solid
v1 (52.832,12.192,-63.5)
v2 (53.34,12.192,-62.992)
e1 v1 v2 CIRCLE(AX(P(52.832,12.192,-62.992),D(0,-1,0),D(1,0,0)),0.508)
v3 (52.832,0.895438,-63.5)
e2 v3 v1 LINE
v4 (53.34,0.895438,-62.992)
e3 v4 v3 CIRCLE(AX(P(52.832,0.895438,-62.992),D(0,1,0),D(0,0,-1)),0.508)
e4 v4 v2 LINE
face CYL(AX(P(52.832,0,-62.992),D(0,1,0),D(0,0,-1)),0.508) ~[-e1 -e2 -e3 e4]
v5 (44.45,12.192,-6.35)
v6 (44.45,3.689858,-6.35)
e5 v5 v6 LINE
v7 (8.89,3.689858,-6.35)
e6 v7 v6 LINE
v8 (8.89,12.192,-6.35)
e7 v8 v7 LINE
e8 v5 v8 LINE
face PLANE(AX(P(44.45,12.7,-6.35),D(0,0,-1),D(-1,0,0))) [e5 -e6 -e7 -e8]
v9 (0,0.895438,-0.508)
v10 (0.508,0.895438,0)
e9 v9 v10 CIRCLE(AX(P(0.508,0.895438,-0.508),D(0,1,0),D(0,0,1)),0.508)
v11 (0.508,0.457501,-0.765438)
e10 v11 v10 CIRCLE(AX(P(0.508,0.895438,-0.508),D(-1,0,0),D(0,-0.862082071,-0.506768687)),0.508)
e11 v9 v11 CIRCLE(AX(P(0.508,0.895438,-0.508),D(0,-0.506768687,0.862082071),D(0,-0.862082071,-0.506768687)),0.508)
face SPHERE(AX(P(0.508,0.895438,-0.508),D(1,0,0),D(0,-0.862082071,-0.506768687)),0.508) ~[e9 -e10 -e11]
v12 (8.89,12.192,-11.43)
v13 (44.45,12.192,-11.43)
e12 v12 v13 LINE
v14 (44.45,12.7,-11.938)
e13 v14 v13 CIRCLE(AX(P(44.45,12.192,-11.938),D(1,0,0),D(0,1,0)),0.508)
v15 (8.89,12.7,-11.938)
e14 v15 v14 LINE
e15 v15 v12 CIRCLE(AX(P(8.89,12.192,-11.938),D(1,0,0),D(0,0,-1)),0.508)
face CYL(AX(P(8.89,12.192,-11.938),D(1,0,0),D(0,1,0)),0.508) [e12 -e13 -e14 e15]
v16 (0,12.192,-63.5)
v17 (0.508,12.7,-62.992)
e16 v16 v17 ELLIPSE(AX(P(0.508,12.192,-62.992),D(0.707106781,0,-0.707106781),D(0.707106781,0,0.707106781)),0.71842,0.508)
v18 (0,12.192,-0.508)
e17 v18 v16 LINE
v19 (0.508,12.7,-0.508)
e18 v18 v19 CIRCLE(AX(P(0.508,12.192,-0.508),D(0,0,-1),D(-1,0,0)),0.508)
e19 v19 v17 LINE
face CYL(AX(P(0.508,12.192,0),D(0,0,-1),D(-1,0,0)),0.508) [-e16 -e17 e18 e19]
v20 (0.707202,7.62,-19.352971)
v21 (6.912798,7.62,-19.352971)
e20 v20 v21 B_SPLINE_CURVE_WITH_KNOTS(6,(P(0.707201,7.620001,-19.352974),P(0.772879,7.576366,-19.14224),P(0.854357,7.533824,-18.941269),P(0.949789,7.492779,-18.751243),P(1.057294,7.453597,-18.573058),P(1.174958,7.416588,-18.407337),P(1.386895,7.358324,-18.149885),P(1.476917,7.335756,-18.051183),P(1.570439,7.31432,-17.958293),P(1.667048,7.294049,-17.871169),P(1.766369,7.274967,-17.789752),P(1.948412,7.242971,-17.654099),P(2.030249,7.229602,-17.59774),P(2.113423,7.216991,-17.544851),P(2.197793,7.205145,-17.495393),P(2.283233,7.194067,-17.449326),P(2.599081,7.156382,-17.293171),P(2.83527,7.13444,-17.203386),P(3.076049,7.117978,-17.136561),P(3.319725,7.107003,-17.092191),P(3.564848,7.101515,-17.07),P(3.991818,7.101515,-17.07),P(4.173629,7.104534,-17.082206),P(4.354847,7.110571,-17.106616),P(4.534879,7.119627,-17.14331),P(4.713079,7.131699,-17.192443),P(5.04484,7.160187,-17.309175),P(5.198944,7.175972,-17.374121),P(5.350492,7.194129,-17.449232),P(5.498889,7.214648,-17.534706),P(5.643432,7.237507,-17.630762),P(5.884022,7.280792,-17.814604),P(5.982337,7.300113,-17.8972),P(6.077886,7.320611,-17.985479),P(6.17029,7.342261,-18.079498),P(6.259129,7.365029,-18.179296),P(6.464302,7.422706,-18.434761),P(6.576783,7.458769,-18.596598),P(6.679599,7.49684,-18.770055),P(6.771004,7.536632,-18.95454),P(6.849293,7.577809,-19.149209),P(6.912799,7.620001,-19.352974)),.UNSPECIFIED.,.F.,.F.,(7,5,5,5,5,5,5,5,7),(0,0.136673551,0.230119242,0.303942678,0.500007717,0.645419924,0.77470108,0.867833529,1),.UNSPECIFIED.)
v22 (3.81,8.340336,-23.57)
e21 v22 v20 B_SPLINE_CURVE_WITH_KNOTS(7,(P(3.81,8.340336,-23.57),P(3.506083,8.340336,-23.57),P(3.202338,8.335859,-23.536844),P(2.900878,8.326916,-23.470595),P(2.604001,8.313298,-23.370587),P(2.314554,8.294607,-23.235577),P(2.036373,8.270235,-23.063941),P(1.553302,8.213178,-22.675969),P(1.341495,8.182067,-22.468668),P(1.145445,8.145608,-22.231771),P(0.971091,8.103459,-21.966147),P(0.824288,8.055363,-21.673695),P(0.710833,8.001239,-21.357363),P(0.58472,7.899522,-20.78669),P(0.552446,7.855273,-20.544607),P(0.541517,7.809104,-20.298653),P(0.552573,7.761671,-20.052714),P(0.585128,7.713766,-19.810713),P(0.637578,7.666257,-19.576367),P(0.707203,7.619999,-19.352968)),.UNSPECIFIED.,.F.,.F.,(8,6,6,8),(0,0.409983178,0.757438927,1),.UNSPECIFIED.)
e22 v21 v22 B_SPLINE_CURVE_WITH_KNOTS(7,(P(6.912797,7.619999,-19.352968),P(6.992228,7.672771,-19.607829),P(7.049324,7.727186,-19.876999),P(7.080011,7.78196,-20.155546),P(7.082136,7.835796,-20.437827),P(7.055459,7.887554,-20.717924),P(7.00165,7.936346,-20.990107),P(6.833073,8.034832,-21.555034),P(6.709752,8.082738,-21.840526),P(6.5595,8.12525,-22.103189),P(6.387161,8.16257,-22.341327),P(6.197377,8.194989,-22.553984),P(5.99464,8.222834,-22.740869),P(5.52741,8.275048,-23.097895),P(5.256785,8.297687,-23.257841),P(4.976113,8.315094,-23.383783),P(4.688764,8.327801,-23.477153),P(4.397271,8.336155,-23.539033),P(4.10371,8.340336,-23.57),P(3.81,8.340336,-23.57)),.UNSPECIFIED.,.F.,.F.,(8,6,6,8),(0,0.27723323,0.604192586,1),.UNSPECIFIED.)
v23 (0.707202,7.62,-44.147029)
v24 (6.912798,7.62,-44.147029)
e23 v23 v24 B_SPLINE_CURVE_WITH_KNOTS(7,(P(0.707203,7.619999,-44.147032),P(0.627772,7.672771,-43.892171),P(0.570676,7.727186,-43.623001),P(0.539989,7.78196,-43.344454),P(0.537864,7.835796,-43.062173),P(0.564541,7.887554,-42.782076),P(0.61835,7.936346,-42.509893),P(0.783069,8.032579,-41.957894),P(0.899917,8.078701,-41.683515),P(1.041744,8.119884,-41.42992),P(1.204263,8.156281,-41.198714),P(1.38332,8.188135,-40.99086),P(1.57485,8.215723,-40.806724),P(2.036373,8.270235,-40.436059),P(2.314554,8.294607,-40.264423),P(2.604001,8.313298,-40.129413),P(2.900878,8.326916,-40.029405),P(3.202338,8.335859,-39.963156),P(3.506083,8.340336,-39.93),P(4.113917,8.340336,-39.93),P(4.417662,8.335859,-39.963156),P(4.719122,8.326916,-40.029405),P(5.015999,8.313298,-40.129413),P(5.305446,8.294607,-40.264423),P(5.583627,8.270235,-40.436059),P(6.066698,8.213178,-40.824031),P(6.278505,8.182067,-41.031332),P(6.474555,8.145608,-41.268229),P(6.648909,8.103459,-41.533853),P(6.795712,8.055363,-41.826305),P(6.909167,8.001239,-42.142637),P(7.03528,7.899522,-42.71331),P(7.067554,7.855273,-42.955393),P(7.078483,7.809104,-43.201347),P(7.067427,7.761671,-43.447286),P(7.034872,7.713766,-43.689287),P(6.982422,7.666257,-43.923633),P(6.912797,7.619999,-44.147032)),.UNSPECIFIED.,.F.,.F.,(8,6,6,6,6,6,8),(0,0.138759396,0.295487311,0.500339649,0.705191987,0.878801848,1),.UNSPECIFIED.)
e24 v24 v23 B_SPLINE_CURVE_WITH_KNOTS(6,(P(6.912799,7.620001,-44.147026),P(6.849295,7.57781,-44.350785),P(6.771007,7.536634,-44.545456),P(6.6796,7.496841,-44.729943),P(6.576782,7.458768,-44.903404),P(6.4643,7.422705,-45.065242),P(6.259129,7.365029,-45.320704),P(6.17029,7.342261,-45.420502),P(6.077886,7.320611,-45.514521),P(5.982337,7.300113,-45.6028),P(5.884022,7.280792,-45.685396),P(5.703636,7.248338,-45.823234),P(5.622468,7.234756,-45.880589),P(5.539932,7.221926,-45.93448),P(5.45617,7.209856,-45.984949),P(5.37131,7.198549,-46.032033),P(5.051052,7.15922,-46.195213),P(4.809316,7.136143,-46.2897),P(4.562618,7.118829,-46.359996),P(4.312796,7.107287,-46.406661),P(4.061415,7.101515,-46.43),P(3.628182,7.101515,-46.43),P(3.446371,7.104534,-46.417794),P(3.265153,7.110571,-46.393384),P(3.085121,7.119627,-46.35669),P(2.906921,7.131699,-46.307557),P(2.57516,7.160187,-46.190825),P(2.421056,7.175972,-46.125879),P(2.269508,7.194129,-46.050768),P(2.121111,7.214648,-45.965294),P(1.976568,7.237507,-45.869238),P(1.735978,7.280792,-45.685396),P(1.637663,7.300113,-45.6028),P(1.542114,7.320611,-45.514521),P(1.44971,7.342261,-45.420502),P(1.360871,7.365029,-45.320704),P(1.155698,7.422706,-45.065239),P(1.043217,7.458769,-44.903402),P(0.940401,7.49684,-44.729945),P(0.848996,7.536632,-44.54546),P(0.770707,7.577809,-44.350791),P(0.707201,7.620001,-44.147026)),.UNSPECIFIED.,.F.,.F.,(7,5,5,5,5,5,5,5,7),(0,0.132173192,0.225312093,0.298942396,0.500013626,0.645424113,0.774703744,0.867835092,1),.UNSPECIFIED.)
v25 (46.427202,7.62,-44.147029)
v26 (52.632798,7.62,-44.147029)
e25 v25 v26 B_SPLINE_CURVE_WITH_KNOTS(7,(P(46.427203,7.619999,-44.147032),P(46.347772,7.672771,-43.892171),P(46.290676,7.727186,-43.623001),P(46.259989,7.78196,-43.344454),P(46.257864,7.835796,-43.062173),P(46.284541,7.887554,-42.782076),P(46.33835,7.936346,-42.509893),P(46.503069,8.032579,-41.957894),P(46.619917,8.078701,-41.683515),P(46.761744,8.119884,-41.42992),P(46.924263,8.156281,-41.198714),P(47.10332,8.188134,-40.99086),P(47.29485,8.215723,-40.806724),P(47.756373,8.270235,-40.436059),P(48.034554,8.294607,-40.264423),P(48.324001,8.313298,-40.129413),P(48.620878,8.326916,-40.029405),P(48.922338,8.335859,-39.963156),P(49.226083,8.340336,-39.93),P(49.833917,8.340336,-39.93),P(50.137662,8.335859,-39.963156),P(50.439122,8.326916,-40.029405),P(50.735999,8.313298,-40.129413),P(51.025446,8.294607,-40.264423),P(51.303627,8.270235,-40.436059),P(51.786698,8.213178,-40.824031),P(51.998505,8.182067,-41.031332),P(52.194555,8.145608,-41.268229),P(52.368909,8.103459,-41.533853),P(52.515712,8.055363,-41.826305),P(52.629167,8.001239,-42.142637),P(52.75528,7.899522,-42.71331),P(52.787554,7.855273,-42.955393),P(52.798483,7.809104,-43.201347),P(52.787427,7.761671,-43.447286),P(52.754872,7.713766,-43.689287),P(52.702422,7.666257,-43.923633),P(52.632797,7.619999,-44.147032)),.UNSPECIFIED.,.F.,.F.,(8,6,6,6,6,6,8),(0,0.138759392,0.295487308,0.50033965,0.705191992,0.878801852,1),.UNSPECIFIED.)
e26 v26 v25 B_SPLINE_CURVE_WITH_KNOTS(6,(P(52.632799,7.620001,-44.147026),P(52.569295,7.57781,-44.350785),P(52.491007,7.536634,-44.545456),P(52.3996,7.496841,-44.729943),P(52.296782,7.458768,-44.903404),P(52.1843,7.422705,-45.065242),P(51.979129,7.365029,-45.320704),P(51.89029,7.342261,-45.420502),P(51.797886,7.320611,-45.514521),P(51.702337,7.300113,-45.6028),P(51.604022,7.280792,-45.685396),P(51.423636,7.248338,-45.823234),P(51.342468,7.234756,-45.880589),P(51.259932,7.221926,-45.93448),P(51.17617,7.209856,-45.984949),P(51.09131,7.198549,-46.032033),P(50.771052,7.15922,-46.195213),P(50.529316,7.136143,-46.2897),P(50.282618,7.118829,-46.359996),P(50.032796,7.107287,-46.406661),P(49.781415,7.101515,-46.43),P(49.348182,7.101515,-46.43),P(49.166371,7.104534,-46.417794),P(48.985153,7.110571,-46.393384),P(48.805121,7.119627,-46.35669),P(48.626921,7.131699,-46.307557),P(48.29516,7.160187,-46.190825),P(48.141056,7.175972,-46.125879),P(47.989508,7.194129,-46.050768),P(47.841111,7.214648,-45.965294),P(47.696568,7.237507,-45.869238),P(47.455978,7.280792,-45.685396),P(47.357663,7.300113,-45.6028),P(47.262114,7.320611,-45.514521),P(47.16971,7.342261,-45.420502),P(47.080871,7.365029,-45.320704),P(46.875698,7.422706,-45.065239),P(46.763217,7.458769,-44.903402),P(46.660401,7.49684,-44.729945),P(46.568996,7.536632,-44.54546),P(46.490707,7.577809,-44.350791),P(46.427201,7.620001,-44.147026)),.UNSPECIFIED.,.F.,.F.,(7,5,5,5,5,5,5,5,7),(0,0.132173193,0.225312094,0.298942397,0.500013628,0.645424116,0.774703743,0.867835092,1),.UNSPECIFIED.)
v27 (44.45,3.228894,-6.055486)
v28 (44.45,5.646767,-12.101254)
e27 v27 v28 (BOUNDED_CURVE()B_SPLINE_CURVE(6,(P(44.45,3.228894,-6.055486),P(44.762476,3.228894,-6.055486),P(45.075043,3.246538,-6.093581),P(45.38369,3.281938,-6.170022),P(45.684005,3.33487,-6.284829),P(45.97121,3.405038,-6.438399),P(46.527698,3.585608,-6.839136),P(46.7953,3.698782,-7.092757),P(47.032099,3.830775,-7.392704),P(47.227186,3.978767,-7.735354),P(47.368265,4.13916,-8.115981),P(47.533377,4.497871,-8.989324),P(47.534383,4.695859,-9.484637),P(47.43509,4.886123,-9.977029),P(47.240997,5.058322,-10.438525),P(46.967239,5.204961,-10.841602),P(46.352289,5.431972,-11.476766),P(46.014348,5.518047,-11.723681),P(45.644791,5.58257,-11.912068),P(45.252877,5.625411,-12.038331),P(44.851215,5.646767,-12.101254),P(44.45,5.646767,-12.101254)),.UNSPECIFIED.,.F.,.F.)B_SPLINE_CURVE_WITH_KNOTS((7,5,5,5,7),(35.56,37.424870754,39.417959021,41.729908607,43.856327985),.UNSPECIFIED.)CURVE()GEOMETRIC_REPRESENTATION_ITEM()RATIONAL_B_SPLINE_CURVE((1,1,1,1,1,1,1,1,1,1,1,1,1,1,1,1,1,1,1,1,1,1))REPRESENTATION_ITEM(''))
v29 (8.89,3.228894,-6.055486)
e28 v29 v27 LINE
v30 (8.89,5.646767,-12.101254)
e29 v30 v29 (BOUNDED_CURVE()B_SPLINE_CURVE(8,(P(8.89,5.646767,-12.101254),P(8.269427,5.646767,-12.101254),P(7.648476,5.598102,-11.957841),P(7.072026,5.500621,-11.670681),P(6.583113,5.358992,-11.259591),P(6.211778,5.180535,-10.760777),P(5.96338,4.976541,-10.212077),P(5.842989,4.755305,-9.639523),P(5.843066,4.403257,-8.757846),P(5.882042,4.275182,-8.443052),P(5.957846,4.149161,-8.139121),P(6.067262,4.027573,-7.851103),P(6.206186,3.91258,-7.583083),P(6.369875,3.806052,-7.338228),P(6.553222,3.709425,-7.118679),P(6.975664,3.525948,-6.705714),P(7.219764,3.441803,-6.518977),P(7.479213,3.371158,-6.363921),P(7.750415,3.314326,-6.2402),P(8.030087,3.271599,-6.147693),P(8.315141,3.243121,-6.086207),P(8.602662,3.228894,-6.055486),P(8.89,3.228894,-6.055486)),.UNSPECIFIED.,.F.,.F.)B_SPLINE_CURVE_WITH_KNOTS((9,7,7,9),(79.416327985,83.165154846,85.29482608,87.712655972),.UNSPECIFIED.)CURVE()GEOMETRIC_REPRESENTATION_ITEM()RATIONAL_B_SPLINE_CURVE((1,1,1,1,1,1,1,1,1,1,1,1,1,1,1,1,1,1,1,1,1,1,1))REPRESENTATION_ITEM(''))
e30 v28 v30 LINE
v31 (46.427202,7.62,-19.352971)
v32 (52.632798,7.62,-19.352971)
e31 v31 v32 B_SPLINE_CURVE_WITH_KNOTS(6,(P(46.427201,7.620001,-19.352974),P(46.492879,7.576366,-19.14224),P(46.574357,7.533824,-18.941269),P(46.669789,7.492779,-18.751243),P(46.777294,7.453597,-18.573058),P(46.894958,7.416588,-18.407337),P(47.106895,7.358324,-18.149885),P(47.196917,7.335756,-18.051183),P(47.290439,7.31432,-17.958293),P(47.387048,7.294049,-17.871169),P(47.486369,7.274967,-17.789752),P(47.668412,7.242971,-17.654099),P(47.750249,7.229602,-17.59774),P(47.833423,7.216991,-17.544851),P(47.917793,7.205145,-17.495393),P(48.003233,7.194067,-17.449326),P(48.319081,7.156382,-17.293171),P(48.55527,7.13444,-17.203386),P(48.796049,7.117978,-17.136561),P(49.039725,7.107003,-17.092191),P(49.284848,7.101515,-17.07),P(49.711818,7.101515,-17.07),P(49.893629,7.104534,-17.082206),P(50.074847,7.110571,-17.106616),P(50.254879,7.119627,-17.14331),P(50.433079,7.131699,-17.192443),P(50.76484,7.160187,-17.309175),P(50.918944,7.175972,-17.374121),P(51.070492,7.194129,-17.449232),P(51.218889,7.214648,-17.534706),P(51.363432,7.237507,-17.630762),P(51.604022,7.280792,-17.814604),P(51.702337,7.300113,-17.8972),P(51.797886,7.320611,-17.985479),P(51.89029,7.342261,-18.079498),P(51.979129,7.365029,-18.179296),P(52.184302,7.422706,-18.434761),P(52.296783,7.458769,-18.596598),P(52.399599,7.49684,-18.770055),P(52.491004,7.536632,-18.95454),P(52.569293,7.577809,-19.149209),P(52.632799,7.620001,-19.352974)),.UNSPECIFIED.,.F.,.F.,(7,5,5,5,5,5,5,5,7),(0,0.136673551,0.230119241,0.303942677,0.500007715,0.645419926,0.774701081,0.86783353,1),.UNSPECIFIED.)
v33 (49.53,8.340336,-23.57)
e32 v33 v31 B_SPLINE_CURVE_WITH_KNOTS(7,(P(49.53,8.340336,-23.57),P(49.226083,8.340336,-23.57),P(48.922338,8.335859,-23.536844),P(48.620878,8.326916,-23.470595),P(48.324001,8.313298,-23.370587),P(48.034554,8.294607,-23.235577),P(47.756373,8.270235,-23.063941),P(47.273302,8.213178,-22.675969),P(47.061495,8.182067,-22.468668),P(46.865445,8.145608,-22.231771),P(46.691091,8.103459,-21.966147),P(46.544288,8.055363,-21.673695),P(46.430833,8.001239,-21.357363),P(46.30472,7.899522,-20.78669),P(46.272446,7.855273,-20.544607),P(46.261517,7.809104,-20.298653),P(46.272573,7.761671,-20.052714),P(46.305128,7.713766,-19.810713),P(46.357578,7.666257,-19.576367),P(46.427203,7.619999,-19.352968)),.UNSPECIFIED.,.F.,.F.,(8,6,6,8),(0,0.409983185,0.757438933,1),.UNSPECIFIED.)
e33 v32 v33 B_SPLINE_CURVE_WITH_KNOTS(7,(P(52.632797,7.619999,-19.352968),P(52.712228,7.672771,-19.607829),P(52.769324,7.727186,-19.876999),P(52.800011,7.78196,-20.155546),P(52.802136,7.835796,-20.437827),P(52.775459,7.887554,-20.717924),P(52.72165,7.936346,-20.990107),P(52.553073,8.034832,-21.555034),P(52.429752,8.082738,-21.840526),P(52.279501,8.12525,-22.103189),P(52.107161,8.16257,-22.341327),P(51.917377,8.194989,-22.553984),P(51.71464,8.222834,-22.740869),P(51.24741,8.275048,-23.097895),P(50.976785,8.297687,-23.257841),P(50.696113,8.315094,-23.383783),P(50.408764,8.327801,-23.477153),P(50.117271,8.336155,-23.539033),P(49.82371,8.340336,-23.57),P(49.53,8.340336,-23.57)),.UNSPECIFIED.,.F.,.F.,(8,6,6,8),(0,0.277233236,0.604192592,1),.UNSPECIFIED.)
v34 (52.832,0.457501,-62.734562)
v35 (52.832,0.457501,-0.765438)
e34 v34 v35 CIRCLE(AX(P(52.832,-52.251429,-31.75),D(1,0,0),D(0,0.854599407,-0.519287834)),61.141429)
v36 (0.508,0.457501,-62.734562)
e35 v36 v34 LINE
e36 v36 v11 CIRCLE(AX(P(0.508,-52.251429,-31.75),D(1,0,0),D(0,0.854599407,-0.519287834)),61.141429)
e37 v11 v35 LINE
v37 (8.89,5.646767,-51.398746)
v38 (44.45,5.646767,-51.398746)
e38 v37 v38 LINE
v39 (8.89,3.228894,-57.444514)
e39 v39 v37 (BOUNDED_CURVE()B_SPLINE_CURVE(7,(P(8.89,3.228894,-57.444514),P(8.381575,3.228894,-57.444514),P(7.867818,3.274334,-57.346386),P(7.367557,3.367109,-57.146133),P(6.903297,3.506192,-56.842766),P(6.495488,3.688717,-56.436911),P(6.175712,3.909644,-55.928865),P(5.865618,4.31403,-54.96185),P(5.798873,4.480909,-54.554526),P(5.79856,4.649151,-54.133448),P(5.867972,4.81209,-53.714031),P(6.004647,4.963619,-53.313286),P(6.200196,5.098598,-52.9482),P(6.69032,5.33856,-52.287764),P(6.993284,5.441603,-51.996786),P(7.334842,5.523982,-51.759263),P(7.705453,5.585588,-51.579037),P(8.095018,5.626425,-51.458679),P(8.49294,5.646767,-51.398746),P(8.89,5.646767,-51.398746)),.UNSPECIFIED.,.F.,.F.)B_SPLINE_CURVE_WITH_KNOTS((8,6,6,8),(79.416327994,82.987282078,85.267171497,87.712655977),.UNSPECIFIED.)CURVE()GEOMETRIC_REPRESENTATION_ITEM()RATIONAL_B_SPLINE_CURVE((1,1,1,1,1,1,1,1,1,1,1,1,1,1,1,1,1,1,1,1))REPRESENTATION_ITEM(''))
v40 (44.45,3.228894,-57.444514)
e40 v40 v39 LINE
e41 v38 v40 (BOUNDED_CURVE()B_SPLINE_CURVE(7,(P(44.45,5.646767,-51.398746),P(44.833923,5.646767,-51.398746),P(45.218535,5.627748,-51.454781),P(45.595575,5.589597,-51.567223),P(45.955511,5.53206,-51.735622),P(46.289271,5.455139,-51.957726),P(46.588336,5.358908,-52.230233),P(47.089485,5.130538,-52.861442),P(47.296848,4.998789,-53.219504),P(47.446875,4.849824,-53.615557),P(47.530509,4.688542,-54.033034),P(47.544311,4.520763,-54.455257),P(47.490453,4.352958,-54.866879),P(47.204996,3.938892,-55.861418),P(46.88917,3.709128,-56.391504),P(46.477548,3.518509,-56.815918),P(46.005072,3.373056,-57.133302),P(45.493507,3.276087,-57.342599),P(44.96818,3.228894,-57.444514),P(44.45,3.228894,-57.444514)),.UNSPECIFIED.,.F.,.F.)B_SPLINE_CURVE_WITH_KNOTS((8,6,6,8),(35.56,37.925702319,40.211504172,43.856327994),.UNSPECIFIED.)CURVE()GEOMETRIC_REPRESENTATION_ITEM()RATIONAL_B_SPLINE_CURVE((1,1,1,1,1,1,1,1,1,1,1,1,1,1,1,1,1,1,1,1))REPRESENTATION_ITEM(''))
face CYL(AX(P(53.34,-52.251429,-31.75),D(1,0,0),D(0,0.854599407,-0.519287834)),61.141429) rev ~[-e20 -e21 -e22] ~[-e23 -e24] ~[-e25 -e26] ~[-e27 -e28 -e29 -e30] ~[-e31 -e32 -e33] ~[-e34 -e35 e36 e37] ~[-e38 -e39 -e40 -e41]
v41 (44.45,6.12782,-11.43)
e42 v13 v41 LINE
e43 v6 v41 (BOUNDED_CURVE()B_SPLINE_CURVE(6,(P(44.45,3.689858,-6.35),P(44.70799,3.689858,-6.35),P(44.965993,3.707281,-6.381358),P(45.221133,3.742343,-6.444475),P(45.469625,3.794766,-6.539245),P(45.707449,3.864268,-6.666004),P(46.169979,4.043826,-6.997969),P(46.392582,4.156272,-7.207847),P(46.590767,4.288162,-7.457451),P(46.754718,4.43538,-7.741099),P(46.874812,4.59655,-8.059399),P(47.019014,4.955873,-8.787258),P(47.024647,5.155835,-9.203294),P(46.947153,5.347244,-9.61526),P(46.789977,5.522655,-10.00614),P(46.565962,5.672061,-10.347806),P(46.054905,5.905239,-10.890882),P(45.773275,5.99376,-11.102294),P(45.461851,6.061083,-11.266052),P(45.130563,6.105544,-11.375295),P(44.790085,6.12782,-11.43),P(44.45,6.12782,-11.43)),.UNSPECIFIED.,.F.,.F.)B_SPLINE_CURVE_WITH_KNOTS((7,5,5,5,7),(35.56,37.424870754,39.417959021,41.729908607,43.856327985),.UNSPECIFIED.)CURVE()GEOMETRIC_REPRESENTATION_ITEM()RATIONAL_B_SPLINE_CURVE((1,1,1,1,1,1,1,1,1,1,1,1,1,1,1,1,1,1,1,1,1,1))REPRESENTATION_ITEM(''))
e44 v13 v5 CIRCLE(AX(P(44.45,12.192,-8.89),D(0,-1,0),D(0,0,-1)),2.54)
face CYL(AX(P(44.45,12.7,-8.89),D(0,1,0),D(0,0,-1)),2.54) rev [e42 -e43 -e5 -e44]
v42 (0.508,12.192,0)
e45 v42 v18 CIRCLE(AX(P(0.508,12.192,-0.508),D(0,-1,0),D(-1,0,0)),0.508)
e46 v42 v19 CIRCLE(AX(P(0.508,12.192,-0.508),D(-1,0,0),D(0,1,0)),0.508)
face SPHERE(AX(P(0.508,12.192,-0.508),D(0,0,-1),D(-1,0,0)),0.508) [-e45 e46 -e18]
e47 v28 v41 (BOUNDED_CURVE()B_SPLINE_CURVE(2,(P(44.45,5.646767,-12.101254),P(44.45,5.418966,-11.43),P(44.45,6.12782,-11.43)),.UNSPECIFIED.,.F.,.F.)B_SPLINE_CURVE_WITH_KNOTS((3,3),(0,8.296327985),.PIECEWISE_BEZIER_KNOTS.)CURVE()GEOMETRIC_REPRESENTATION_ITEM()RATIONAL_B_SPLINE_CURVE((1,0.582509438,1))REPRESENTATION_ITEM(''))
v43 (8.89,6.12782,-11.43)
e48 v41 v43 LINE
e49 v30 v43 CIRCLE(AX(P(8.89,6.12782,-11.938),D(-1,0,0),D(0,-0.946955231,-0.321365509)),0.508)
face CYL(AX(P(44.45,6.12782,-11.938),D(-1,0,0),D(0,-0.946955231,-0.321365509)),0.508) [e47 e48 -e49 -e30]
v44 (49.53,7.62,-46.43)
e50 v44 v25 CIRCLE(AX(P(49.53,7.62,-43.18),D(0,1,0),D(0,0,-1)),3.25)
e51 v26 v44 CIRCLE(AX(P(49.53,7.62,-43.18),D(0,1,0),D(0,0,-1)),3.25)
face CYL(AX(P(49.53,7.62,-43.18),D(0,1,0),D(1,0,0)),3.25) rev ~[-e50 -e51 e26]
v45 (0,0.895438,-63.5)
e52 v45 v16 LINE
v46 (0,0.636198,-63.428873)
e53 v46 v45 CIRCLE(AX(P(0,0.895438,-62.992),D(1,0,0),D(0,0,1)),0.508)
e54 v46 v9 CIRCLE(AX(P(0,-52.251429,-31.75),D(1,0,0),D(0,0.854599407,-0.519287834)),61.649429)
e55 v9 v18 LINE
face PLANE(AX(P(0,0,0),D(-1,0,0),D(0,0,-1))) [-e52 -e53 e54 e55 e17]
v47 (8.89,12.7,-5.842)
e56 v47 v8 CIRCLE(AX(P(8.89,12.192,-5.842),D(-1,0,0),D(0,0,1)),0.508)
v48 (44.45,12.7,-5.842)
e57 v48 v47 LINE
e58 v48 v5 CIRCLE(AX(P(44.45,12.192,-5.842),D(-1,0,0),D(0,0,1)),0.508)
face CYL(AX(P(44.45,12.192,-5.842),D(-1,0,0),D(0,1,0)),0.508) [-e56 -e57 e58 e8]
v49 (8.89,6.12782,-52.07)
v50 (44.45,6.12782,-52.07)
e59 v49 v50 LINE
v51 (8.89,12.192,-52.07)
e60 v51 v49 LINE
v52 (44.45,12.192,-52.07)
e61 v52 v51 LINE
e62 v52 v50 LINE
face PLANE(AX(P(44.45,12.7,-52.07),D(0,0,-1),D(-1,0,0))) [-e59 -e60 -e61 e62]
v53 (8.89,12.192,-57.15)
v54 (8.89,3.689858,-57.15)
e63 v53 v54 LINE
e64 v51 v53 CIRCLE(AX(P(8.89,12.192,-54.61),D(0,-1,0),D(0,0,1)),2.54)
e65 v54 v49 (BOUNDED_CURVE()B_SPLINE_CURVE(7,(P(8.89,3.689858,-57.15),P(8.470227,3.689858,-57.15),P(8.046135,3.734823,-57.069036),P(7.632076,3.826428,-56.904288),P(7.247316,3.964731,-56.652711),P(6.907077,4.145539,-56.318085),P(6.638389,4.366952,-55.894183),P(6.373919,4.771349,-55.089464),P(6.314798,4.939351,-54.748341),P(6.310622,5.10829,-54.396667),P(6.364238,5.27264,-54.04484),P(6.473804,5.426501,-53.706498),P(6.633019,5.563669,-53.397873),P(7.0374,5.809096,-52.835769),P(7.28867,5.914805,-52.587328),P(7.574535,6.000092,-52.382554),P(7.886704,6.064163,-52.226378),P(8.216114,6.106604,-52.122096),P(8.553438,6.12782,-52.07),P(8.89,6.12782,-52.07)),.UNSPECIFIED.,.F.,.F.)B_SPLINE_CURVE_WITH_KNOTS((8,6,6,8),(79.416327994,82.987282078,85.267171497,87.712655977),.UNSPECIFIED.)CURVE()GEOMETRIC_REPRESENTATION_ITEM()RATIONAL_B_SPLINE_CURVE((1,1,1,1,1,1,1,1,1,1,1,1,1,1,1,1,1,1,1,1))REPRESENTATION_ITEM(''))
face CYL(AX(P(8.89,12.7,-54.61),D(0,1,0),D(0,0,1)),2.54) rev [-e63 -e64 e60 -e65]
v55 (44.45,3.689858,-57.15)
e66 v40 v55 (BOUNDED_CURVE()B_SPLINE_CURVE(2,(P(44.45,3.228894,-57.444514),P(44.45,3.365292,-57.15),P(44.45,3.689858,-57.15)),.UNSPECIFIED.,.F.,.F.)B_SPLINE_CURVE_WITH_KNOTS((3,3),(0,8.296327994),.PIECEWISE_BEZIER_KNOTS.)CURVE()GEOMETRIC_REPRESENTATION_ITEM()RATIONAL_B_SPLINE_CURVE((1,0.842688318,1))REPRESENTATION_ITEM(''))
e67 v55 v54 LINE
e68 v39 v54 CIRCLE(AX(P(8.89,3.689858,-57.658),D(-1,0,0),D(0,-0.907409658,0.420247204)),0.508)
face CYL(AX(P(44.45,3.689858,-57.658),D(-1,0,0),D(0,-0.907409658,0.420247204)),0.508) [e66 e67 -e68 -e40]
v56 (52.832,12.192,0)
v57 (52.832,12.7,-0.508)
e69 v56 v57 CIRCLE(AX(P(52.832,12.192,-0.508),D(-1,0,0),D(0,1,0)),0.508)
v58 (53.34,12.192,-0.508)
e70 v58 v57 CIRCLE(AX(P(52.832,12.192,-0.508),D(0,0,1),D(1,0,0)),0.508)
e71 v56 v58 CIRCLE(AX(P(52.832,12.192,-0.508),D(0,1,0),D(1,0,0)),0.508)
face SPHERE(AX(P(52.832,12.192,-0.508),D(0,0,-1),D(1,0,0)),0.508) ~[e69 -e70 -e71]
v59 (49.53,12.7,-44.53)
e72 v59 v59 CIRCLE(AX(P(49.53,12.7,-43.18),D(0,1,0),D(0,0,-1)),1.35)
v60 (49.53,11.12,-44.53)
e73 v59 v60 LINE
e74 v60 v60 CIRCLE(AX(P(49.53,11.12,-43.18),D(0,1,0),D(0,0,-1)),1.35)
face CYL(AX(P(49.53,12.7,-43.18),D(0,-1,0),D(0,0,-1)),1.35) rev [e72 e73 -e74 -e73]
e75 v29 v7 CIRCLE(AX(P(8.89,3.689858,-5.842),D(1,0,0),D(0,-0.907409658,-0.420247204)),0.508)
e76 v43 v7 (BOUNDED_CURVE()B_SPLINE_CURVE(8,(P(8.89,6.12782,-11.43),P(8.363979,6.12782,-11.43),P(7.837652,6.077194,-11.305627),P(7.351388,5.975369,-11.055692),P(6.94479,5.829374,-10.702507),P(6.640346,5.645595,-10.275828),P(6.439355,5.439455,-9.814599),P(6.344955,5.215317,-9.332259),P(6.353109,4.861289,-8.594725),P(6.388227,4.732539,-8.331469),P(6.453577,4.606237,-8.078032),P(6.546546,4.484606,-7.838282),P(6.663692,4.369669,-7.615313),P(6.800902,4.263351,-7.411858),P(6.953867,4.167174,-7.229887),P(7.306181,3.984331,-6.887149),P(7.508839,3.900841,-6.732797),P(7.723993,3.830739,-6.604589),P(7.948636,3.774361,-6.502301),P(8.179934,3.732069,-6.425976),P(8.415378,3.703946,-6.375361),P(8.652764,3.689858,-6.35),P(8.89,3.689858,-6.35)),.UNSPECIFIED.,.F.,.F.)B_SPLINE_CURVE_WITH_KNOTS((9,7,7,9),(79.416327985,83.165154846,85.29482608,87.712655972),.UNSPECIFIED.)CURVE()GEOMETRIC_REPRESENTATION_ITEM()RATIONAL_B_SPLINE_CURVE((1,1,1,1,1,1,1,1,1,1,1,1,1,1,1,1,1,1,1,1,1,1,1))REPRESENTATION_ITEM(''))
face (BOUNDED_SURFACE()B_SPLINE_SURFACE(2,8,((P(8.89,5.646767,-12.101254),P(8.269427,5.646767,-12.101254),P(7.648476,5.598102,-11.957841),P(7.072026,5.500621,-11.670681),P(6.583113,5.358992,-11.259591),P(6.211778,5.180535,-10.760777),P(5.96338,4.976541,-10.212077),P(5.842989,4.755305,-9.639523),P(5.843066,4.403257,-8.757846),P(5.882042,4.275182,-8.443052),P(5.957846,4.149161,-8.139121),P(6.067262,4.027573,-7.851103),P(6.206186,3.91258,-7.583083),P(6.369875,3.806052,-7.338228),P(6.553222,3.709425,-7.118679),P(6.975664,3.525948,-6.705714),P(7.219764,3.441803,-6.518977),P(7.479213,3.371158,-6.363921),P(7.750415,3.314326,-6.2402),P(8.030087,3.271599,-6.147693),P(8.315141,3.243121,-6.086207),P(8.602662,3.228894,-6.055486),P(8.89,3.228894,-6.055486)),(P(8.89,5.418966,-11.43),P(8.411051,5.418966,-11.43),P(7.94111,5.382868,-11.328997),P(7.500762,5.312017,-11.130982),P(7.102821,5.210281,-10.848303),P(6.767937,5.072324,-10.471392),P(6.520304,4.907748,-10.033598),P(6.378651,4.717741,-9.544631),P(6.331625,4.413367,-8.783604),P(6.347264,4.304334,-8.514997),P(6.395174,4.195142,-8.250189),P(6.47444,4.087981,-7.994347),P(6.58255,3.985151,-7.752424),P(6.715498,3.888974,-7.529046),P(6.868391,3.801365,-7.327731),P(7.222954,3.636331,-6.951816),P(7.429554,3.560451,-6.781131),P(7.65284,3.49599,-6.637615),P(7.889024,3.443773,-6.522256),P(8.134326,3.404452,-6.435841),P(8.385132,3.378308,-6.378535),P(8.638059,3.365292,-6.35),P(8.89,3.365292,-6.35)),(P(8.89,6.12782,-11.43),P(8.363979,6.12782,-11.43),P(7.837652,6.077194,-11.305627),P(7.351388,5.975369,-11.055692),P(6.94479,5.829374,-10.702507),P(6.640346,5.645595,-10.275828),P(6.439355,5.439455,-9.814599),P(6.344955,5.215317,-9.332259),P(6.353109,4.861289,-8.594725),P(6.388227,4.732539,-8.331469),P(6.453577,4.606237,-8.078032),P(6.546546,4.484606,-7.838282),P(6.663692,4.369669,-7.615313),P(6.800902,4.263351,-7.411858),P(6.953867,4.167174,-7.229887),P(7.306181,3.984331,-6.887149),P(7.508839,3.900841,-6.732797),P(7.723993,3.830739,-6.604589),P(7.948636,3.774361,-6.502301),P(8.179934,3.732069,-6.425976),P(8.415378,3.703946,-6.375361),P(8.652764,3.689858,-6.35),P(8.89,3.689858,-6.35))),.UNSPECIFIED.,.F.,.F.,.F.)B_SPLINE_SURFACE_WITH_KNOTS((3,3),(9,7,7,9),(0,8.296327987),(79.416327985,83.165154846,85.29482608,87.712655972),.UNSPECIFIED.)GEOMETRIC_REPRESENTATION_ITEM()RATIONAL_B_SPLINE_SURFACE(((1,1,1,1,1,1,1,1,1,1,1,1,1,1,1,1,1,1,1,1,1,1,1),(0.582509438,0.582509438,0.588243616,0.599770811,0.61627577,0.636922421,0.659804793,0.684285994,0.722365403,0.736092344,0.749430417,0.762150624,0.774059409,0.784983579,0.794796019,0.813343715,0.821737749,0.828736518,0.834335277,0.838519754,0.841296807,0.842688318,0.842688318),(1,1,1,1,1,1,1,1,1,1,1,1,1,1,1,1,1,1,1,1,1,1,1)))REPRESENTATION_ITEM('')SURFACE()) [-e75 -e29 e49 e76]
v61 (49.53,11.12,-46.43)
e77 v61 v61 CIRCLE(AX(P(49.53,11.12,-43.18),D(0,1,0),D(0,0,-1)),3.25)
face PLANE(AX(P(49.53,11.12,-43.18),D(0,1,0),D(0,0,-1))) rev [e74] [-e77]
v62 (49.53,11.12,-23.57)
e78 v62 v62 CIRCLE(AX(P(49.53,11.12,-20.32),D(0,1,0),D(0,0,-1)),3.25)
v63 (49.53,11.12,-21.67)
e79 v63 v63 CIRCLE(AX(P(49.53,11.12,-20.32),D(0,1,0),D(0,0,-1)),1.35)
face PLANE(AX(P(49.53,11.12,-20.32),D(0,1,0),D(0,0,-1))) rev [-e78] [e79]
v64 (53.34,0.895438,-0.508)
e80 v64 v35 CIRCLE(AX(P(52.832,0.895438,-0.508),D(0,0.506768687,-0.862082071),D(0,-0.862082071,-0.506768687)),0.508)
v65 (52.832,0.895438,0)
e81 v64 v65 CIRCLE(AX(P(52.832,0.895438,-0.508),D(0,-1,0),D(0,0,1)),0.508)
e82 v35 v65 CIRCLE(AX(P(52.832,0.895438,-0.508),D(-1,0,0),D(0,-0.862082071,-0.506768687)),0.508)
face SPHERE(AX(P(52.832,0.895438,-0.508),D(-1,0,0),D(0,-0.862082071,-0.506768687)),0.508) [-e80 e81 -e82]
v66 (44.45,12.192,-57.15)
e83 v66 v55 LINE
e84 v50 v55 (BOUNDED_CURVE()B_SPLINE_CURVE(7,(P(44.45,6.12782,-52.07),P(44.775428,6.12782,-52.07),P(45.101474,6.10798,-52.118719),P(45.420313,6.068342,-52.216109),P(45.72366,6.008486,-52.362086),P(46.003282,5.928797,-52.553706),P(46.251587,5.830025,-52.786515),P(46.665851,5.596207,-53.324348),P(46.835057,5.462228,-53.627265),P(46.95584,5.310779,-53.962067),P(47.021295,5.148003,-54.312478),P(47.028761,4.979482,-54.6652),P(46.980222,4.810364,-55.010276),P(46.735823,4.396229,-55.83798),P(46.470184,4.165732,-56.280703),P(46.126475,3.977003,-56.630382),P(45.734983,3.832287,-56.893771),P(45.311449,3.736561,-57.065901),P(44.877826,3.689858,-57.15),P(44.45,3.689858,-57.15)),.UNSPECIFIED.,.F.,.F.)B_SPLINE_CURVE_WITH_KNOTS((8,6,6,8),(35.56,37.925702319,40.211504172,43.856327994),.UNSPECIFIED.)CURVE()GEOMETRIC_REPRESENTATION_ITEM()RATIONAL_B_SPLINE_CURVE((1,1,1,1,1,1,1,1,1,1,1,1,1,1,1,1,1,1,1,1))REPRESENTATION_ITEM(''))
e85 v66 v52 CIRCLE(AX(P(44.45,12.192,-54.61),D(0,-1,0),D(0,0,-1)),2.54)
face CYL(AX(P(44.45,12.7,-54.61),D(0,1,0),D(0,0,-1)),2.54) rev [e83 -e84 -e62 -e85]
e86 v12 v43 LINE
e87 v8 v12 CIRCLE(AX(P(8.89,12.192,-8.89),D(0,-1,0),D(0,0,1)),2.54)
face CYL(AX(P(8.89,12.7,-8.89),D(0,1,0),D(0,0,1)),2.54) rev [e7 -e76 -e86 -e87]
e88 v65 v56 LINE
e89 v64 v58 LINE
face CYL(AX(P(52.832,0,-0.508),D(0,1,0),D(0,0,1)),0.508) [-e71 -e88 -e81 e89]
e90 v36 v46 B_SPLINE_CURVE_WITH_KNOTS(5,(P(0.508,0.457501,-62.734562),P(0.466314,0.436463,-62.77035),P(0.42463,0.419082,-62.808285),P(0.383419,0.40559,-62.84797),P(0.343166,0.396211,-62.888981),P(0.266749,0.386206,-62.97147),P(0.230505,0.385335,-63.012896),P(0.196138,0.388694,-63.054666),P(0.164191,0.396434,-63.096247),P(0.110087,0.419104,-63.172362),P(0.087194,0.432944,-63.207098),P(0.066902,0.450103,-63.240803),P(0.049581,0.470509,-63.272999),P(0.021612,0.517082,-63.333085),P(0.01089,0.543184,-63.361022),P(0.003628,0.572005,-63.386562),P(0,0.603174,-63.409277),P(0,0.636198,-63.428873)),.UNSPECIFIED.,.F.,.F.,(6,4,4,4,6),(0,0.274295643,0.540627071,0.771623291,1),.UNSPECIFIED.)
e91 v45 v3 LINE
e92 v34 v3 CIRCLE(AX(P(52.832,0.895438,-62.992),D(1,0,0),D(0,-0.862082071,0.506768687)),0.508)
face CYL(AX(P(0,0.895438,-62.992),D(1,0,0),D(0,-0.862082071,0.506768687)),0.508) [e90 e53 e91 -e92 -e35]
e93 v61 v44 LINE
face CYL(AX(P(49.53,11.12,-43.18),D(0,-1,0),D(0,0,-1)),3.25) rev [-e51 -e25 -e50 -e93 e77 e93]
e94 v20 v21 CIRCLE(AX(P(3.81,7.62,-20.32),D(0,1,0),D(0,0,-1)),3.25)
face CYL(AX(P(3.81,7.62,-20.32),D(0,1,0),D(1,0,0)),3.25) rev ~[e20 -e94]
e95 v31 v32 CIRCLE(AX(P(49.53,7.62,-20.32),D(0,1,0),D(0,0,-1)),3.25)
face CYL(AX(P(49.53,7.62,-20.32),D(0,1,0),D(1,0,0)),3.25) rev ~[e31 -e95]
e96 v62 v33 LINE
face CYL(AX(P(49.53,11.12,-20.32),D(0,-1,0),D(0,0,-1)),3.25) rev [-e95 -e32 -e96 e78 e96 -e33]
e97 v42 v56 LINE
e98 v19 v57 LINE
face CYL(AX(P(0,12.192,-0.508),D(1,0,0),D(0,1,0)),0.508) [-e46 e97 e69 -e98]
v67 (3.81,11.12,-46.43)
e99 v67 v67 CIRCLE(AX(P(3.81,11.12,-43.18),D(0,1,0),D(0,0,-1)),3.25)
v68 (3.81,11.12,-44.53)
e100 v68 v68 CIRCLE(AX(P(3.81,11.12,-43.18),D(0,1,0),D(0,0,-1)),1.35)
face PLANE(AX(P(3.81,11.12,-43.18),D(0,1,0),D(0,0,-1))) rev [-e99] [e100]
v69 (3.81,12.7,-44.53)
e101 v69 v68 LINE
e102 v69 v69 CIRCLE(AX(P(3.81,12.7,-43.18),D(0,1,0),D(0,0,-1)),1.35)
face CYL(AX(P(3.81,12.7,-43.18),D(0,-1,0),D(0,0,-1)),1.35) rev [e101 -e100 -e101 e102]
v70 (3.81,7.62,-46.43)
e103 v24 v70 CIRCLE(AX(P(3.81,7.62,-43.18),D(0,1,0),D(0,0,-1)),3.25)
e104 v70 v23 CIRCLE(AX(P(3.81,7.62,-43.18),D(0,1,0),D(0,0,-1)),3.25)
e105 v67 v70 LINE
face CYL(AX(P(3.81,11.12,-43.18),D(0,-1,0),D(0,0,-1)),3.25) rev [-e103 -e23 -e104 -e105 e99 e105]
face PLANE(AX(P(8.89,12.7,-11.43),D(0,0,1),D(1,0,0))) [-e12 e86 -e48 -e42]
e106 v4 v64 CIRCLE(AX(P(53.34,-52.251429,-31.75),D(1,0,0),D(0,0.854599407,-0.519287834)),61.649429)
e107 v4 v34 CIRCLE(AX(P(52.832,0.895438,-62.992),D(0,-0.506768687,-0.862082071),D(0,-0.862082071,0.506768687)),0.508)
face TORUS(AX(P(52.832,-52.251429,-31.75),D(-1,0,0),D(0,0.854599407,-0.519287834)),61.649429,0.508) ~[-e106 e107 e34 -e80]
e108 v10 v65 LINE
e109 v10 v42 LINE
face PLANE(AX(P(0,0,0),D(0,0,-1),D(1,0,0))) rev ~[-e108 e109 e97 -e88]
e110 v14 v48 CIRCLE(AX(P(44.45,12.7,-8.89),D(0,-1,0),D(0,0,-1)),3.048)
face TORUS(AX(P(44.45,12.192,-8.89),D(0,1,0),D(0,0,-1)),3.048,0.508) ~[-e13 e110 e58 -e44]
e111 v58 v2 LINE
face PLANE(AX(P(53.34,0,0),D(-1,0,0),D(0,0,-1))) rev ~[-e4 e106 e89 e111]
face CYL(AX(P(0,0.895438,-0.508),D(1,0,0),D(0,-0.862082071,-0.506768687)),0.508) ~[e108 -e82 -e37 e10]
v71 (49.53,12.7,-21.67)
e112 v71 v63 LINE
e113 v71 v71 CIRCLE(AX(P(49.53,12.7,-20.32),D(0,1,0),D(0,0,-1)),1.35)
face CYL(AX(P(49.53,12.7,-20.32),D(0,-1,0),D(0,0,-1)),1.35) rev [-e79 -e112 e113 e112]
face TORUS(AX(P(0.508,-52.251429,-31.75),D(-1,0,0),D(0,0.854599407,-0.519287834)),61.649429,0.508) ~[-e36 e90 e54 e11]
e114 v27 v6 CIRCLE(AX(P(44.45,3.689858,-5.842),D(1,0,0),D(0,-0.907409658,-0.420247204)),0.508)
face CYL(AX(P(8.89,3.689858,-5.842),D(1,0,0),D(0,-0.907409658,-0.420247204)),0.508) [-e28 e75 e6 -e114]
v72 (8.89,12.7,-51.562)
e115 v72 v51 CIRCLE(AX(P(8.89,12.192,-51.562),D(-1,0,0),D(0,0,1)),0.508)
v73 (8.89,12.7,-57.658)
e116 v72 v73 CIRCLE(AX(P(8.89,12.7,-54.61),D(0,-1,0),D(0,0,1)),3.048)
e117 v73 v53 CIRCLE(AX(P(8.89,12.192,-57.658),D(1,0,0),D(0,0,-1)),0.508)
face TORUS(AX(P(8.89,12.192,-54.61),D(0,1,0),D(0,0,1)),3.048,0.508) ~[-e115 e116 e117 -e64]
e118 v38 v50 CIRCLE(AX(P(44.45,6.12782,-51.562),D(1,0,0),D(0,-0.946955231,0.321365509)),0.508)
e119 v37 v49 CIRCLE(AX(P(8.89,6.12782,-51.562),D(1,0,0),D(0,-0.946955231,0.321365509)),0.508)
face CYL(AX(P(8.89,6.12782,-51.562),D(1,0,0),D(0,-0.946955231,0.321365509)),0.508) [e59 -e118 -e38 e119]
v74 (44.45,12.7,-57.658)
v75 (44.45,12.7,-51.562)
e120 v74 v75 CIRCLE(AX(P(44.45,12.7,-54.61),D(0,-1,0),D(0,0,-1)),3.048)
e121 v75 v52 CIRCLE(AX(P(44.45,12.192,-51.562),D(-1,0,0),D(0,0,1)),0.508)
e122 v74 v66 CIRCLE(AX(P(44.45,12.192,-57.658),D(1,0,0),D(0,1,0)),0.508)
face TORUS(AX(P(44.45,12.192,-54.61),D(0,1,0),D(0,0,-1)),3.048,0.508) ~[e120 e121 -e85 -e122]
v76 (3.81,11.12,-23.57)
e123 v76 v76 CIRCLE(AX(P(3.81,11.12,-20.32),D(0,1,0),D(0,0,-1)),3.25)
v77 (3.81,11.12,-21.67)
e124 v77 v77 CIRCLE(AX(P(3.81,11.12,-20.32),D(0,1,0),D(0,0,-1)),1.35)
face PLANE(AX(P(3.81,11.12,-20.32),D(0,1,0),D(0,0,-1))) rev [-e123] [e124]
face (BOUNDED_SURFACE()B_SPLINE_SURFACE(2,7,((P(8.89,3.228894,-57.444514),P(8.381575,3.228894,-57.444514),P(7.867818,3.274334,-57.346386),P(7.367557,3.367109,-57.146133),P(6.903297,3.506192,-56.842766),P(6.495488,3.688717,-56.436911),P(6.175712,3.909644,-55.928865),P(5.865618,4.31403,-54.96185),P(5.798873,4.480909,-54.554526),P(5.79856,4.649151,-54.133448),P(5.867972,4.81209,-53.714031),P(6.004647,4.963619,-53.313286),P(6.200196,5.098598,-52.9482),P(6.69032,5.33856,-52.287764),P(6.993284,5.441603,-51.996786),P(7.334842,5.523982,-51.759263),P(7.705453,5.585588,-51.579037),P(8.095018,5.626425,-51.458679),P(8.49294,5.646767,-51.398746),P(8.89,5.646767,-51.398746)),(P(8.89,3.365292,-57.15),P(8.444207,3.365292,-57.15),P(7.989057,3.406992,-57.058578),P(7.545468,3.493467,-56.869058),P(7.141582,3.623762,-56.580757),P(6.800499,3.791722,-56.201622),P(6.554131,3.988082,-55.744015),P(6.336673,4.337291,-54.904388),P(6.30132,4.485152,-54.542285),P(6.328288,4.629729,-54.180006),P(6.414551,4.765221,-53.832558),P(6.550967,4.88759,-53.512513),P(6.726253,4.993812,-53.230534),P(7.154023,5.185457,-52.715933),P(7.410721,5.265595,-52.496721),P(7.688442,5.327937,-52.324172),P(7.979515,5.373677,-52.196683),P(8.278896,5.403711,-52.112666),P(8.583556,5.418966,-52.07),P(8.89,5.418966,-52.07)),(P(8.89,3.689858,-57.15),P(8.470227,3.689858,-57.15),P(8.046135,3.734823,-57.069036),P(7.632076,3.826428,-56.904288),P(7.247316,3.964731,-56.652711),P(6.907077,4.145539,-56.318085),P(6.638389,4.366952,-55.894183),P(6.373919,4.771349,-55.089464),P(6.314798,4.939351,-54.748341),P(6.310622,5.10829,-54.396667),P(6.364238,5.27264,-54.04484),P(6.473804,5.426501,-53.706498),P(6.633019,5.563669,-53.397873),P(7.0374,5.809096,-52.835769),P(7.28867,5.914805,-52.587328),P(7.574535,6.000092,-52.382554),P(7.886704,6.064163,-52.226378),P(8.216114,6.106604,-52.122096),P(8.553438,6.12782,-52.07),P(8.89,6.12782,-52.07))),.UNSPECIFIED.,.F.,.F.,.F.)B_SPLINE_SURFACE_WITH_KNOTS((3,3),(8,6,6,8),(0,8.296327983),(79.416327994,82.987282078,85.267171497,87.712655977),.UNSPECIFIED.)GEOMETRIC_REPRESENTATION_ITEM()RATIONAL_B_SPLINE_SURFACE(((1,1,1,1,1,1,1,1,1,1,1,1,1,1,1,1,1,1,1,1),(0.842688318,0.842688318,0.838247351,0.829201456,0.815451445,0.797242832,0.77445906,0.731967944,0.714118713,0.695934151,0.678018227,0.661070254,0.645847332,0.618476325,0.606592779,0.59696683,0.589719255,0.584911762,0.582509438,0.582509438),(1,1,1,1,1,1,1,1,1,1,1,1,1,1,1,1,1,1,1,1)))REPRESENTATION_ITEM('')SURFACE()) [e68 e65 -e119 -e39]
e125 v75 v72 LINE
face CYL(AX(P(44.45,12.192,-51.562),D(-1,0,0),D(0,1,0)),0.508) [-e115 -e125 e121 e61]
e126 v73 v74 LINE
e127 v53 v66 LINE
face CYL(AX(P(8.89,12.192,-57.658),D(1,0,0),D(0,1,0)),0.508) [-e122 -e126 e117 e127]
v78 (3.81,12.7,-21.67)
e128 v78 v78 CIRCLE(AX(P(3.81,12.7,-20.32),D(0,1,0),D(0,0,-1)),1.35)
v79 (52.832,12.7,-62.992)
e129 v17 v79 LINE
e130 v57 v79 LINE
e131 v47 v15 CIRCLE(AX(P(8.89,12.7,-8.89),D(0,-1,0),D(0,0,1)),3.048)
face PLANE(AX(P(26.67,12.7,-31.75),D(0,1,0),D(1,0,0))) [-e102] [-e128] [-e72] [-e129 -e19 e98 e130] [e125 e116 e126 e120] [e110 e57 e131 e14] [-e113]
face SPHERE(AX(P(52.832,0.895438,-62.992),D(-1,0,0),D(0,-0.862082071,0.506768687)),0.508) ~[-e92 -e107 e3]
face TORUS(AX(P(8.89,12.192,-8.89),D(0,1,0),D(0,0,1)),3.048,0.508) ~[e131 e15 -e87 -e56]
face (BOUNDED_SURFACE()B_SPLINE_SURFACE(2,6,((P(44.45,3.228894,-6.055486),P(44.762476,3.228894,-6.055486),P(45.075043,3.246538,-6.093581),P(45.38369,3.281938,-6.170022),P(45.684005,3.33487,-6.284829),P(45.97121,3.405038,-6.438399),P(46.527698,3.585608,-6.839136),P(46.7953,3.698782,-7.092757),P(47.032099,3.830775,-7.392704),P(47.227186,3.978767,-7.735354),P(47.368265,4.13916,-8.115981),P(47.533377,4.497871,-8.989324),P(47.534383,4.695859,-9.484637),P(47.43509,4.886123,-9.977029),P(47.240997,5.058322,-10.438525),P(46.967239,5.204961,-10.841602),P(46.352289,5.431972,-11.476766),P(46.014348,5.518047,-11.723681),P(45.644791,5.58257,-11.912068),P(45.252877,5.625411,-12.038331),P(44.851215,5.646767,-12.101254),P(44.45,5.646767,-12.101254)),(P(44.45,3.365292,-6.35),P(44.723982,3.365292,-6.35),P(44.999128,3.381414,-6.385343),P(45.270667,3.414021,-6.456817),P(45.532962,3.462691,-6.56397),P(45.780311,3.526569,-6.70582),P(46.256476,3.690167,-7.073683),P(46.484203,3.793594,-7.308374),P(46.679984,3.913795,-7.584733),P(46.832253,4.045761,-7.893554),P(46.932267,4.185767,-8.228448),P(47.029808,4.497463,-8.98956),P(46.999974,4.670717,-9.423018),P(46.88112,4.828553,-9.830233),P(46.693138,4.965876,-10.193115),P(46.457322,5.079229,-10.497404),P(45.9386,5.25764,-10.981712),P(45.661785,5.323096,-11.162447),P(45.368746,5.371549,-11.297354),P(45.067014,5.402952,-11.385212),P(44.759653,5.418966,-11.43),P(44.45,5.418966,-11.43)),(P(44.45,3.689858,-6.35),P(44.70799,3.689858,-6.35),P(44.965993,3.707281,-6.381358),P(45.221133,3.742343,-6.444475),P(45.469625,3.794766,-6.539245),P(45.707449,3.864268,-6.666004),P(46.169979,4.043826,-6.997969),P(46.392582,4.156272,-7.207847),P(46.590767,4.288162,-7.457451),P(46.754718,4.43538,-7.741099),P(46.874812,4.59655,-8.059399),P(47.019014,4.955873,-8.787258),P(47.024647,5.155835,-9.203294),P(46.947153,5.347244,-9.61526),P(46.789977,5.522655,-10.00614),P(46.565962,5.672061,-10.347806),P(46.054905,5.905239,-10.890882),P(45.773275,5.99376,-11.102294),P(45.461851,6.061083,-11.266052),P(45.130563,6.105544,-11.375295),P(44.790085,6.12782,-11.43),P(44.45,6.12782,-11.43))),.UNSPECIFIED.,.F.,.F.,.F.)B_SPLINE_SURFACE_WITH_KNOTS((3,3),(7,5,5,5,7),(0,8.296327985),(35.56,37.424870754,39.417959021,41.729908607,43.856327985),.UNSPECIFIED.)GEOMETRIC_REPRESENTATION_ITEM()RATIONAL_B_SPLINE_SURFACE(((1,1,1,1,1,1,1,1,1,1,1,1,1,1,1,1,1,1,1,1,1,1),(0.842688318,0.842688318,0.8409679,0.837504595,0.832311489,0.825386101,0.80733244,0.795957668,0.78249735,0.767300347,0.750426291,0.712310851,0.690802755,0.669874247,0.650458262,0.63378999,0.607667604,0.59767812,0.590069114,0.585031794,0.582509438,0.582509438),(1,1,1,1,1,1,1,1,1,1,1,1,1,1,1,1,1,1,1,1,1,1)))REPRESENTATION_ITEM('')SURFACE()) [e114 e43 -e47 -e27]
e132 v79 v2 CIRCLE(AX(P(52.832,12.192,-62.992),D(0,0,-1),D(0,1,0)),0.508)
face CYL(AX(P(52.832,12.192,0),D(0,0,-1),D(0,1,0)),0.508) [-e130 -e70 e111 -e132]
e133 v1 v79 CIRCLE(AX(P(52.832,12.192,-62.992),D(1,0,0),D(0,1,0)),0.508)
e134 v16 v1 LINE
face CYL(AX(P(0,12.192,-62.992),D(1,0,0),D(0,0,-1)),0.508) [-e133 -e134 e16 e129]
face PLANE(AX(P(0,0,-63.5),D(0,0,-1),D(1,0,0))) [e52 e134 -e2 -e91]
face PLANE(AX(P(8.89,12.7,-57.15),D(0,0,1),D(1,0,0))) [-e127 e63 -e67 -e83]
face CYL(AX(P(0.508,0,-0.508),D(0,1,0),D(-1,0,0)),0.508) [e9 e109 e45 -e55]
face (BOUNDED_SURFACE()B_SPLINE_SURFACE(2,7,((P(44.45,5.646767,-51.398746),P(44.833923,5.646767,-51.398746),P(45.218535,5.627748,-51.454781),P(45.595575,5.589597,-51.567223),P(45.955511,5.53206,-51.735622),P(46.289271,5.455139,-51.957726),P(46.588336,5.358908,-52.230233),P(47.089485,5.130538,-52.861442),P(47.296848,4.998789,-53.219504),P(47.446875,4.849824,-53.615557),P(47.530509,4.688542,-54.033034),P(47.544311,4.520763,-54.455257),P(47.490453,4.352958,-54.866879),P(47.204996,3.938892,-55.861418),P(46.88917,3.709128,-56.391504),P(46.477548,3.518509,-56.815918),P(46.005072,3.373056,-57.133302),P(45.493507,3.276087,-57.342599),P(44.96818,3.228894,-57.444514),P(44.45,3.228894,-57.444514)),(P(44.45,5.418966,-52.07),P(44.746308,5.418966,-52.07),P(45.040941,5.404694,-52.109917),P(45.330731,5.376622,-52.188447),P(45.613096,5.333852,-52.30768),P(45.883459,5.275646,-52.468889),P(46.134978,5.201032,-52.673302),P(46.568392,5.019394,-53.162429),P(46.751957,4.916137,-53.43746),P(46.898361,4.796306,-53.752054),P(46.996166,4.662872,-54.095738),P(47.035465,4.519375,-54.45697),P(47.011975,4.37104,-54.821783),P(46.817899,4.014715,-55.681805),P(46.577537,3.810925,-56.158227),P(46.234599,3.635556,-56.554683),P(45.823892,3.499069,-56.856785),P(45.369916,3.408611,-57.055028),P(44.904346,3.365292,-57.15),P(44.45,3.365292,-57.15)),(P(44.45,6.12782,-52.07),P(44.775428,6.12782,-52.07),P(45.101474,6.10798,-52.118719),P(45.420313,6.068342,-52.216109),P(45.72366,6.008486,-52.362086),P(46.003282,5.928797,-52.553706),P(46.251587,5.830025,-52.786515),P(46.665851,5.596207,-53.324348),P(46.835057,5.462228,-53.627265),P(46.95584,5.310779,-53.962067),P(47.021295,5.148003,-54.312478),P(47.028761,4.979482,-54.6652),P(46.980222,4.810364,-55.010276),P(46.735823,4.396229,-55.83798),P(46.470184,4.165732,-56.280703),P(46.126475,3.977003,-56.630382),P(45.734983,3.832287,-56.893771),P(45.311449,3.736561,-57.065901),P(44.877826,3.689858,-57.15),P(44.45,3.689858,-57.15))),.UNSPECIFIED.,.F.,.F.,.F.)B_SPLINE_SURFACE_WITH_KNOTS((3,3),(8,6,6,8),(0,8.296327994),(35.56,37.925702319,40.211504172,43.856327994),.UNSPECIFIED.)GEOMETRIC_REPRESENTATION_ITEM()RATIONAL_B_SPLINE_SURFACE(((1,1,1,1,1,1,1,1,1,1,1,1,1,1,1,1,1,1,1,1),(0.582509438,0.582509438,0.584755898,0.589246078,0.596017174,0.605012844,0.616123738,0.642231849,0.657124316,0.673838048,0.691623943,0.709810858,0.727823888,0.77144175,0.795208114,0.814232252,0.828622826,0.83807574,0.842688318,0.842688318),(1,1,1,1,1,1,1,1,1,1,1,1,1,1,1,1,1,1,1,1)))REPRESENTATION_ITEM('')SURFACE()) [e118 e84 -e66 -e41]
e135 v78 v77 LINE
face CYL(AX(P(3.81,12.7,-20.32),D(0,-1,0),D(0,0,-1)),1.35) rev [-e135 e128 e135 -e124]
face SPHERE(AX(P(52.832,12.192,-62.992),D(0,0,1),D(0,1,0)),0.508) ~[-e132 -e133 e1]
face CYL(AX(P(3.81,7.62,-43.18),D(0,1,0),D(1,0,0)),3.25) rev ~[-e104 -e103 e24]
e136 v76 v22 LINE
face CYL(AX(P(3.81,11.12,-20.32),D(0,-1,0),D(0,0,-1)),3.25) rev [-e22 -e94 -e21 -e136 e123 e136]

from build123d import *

# Parameters (mm, degrees)
SKETCH1_W                       = 53.34
SKETCH1_H                       = 63.5
BOSS_EXTRUDE1_DEPTH             = 12.7
CUT_EXTRUDE2_DEPTH              = 67.818
CUT_EXTRUDE3_DEPTH              = 54.34
CBORE_FOR_M2_5_SHCS3_AT_2_COUNT = 2
CBORE_FOR_M2_5_SHCS3_AT_2_PITCH = 22.86
CBORE_FOR_M2_5_SHCS3_AT_3_COUNT = 2
CBORE_FOR_M2_5_SHCS3_AT_3_PITCH = 51.116513966
CBORE_FOR_M2_5_SHCS3_AT_4_COUNT = 2
CBORE_FOR_M2_5_SHCS3_AT_4_PITCH = 45.72
SKETCH21_R                      = 3.25
CUT_EXTRUDE4_DEPTH              = 8.6200001
FILLET1_R                       = 0.508


with BuildPart() as part:
    # Sketch1 → Boss-Extrude1 (new body)
    with BuildSketch(Plane(origin=(0, 0, 0), x_dir=(1, 0, 0), z_dir=(0, 1, 0))):
        with Locations((26.67, 31.75)):
            Rectangle(SKETCH1_W, SKETCH1_H)
    extrude(amount=BOSS_EXTRUDE1_DEPTH)

    # Sketch9 → Cut-Extrude2 (cut)
    with BuildSketch(Plane(origin=(0, 12.7, 0), x_dir=(1, 0, 0), z_dir=(0, 1, 0))):
        with BuildLine():
            Line((8.89, 11.43), (44.45, 11.43))
            ThreePointArc((44.45, 11.43), (46.99, 8.89), (44.45, 6.35))
            Line((44.45, 6.35), (8.89, 6.35))
            ThreePointArc((8.89, 6.35), (6.35, 8.89), (8.89, 11.43))
        make_face()
        with BuildLine():
            Line((8.89, 57.15), (44.45, 57.15))
            ThreePointArc((44.45, 57.15), (46.99, 54.61), (44.45, 52.07))
            Line((44.45, 52.07), (8.89, 52.07))
            ThreePointArc((8.89, 52.07), (6.35, 54.61), (8.89, 57.15))
        make_face()
    extrude(amount=-CUT_EXTRUDE2_DEPTH, mode=Mode.SUBTRACT)

    # Sketch11 → Cut-Extrude3 (cut, through all)
    with BuildSketch(Plane(origin=(53.34, 0, 0), x_dir=(0, 0, -1), z_dir=(1, 0, 0))):
        with BuildLine():
            Line((0, 0), (63.5, 0))
            ThreePointArc((63.5, 0), (31.75, 8.89), (0, 0))
        make_face()
    extrude(amount=-CUT_EXTRUDE3_DEPTH, mode=Mode.SUBTRACT)

    # Sketch20 → CBORE for M2.5 SHCS3 (revolve, cut)
    with BuildSketch(Plane(origin=(49.53, 7.62, -20.32), x_dir=(0, 0, -1), z_dir=(1, 0, 0))):
        Polygon((0, 0), (0, 5.08), (1.35, 5.08), (1.35, 3.5), (3.25, 3.5), (3.25, 0), align=None)
    cbore_for_m2_5_shcs3 = revolve(axis=Axis((49.53, 1.27, -20.32), (0, 1, 0)), mode=Mode.SUBTRACT)

    # CBORE for M2.5 SHCS3 at 2: CBORE for M2.5 SHCS3 ×2
    with Locations(*[(0, 0, -i * CBORE_FOR_M2_5_SHCS3_AT_2_PITCH) for i in range(1, CBORE_FOR_M2_5_SHCS3_AT_2_COUNT)]):
        add(cbore_for_m2_5_shcs3, mode=Mode.SUBTRACT)

    # CBORE for M2.5 SHCS3 at 3: CBORE for M2.5 SHCS3 ×2
    with Locations(*[Vector(-0.894427191, 0, -0.447213595) * (i * CBORE_FOR_M2_5_SHCS3_AT_3_PITCH) for i in range(1, CBORE_FOR_M2_5_SHCS3_AT_3_COUNT)]):
        add(cbore_for_m2_5_shcs3, mode=Mode.SUBTRACT)

    # CBORE for M2.5 SHCS3 at 4: CBORE for M2.5 SHCS3 ×2
    with Locations(*[(-i * CBORE_FOR_M2_5_SHCS3_AT_4_PITCH, 0, 0) for i in range(1, CBORE_FOR_M2_5_SHCS3_AT_4_COUNT)]):
        add(cbore_for_m2_5_shcs3, mode=Mode.SUBTRACT)

    # Sketch21 → Cut-Extrude4 (cut, through all)
    with BuildSketch(Plane(origin=(0, 7.62, 0), x_dir=(1, 0, 0), z_dir=(0, 1, 0))):
        with Locations((49.53, 43.18)):
            Circle(SKETCH21_R)
        with Locations((3.81, 43.18)):
            Circle(SKETCH21_R)
        with Locations((3.81, 20.32)):
            Circle(SKETCH21_R)
        with Locations((49.53, 20.32)):
            Circle(SKETCH21_R)
    extrude(amount=-CUT_EXTRUDE4_DEPTH, mode=Mode.SUBTRACT)

    # Fillet1
    fillet1_edges = [part.edges().sort_by_distance(p)[0] for p in [
        (53.34, 12.7, -31.75),
        (26.67, 12.7, -63.5),
        (6.35, 12.7, -8.89),
        (26.67, 12.7, -6.35),
        (46.99, 12.7, -8.89),
        (26.67, 12.7, -11.43),
        (6.35, 12.7, -54.61),
        (26.67, 12.7, -52.07),
        (46.99, 12.7, -54.61),
        (26.67, 12.7, -57.15),
        (0, 12.7, -31.75),
        (26.67, 0, -63.5),
        (26.67, 3.36434516, -6.35),
        (26.67, 0, 0),
        (0, 8.89, -31.75),
        (6.350048963, 4.449306528, -8.874228393),
        (26.67, 5.414608988, -11.43),
        (46.989951035, 4.449306546, -8.874228392),
        (26.67, 5.414608988, -52.07),
        (6.350048935, 4.449306548, -54.625771612),
        (26.67, 3.36434516, -57.15),
        (46.989951036, 4.449306533, -54.625771607),
        (53.34, 8.89, -31.75),
        (53.34, 6.35, -63.5),
        (53.34, 6.35, 0),
        (0, 6.35, 0),
        (26.67, 12.7, 0),
    ]]
    fillet(fillet1_edges, radius=FILLET1_R)


solid = part.part
